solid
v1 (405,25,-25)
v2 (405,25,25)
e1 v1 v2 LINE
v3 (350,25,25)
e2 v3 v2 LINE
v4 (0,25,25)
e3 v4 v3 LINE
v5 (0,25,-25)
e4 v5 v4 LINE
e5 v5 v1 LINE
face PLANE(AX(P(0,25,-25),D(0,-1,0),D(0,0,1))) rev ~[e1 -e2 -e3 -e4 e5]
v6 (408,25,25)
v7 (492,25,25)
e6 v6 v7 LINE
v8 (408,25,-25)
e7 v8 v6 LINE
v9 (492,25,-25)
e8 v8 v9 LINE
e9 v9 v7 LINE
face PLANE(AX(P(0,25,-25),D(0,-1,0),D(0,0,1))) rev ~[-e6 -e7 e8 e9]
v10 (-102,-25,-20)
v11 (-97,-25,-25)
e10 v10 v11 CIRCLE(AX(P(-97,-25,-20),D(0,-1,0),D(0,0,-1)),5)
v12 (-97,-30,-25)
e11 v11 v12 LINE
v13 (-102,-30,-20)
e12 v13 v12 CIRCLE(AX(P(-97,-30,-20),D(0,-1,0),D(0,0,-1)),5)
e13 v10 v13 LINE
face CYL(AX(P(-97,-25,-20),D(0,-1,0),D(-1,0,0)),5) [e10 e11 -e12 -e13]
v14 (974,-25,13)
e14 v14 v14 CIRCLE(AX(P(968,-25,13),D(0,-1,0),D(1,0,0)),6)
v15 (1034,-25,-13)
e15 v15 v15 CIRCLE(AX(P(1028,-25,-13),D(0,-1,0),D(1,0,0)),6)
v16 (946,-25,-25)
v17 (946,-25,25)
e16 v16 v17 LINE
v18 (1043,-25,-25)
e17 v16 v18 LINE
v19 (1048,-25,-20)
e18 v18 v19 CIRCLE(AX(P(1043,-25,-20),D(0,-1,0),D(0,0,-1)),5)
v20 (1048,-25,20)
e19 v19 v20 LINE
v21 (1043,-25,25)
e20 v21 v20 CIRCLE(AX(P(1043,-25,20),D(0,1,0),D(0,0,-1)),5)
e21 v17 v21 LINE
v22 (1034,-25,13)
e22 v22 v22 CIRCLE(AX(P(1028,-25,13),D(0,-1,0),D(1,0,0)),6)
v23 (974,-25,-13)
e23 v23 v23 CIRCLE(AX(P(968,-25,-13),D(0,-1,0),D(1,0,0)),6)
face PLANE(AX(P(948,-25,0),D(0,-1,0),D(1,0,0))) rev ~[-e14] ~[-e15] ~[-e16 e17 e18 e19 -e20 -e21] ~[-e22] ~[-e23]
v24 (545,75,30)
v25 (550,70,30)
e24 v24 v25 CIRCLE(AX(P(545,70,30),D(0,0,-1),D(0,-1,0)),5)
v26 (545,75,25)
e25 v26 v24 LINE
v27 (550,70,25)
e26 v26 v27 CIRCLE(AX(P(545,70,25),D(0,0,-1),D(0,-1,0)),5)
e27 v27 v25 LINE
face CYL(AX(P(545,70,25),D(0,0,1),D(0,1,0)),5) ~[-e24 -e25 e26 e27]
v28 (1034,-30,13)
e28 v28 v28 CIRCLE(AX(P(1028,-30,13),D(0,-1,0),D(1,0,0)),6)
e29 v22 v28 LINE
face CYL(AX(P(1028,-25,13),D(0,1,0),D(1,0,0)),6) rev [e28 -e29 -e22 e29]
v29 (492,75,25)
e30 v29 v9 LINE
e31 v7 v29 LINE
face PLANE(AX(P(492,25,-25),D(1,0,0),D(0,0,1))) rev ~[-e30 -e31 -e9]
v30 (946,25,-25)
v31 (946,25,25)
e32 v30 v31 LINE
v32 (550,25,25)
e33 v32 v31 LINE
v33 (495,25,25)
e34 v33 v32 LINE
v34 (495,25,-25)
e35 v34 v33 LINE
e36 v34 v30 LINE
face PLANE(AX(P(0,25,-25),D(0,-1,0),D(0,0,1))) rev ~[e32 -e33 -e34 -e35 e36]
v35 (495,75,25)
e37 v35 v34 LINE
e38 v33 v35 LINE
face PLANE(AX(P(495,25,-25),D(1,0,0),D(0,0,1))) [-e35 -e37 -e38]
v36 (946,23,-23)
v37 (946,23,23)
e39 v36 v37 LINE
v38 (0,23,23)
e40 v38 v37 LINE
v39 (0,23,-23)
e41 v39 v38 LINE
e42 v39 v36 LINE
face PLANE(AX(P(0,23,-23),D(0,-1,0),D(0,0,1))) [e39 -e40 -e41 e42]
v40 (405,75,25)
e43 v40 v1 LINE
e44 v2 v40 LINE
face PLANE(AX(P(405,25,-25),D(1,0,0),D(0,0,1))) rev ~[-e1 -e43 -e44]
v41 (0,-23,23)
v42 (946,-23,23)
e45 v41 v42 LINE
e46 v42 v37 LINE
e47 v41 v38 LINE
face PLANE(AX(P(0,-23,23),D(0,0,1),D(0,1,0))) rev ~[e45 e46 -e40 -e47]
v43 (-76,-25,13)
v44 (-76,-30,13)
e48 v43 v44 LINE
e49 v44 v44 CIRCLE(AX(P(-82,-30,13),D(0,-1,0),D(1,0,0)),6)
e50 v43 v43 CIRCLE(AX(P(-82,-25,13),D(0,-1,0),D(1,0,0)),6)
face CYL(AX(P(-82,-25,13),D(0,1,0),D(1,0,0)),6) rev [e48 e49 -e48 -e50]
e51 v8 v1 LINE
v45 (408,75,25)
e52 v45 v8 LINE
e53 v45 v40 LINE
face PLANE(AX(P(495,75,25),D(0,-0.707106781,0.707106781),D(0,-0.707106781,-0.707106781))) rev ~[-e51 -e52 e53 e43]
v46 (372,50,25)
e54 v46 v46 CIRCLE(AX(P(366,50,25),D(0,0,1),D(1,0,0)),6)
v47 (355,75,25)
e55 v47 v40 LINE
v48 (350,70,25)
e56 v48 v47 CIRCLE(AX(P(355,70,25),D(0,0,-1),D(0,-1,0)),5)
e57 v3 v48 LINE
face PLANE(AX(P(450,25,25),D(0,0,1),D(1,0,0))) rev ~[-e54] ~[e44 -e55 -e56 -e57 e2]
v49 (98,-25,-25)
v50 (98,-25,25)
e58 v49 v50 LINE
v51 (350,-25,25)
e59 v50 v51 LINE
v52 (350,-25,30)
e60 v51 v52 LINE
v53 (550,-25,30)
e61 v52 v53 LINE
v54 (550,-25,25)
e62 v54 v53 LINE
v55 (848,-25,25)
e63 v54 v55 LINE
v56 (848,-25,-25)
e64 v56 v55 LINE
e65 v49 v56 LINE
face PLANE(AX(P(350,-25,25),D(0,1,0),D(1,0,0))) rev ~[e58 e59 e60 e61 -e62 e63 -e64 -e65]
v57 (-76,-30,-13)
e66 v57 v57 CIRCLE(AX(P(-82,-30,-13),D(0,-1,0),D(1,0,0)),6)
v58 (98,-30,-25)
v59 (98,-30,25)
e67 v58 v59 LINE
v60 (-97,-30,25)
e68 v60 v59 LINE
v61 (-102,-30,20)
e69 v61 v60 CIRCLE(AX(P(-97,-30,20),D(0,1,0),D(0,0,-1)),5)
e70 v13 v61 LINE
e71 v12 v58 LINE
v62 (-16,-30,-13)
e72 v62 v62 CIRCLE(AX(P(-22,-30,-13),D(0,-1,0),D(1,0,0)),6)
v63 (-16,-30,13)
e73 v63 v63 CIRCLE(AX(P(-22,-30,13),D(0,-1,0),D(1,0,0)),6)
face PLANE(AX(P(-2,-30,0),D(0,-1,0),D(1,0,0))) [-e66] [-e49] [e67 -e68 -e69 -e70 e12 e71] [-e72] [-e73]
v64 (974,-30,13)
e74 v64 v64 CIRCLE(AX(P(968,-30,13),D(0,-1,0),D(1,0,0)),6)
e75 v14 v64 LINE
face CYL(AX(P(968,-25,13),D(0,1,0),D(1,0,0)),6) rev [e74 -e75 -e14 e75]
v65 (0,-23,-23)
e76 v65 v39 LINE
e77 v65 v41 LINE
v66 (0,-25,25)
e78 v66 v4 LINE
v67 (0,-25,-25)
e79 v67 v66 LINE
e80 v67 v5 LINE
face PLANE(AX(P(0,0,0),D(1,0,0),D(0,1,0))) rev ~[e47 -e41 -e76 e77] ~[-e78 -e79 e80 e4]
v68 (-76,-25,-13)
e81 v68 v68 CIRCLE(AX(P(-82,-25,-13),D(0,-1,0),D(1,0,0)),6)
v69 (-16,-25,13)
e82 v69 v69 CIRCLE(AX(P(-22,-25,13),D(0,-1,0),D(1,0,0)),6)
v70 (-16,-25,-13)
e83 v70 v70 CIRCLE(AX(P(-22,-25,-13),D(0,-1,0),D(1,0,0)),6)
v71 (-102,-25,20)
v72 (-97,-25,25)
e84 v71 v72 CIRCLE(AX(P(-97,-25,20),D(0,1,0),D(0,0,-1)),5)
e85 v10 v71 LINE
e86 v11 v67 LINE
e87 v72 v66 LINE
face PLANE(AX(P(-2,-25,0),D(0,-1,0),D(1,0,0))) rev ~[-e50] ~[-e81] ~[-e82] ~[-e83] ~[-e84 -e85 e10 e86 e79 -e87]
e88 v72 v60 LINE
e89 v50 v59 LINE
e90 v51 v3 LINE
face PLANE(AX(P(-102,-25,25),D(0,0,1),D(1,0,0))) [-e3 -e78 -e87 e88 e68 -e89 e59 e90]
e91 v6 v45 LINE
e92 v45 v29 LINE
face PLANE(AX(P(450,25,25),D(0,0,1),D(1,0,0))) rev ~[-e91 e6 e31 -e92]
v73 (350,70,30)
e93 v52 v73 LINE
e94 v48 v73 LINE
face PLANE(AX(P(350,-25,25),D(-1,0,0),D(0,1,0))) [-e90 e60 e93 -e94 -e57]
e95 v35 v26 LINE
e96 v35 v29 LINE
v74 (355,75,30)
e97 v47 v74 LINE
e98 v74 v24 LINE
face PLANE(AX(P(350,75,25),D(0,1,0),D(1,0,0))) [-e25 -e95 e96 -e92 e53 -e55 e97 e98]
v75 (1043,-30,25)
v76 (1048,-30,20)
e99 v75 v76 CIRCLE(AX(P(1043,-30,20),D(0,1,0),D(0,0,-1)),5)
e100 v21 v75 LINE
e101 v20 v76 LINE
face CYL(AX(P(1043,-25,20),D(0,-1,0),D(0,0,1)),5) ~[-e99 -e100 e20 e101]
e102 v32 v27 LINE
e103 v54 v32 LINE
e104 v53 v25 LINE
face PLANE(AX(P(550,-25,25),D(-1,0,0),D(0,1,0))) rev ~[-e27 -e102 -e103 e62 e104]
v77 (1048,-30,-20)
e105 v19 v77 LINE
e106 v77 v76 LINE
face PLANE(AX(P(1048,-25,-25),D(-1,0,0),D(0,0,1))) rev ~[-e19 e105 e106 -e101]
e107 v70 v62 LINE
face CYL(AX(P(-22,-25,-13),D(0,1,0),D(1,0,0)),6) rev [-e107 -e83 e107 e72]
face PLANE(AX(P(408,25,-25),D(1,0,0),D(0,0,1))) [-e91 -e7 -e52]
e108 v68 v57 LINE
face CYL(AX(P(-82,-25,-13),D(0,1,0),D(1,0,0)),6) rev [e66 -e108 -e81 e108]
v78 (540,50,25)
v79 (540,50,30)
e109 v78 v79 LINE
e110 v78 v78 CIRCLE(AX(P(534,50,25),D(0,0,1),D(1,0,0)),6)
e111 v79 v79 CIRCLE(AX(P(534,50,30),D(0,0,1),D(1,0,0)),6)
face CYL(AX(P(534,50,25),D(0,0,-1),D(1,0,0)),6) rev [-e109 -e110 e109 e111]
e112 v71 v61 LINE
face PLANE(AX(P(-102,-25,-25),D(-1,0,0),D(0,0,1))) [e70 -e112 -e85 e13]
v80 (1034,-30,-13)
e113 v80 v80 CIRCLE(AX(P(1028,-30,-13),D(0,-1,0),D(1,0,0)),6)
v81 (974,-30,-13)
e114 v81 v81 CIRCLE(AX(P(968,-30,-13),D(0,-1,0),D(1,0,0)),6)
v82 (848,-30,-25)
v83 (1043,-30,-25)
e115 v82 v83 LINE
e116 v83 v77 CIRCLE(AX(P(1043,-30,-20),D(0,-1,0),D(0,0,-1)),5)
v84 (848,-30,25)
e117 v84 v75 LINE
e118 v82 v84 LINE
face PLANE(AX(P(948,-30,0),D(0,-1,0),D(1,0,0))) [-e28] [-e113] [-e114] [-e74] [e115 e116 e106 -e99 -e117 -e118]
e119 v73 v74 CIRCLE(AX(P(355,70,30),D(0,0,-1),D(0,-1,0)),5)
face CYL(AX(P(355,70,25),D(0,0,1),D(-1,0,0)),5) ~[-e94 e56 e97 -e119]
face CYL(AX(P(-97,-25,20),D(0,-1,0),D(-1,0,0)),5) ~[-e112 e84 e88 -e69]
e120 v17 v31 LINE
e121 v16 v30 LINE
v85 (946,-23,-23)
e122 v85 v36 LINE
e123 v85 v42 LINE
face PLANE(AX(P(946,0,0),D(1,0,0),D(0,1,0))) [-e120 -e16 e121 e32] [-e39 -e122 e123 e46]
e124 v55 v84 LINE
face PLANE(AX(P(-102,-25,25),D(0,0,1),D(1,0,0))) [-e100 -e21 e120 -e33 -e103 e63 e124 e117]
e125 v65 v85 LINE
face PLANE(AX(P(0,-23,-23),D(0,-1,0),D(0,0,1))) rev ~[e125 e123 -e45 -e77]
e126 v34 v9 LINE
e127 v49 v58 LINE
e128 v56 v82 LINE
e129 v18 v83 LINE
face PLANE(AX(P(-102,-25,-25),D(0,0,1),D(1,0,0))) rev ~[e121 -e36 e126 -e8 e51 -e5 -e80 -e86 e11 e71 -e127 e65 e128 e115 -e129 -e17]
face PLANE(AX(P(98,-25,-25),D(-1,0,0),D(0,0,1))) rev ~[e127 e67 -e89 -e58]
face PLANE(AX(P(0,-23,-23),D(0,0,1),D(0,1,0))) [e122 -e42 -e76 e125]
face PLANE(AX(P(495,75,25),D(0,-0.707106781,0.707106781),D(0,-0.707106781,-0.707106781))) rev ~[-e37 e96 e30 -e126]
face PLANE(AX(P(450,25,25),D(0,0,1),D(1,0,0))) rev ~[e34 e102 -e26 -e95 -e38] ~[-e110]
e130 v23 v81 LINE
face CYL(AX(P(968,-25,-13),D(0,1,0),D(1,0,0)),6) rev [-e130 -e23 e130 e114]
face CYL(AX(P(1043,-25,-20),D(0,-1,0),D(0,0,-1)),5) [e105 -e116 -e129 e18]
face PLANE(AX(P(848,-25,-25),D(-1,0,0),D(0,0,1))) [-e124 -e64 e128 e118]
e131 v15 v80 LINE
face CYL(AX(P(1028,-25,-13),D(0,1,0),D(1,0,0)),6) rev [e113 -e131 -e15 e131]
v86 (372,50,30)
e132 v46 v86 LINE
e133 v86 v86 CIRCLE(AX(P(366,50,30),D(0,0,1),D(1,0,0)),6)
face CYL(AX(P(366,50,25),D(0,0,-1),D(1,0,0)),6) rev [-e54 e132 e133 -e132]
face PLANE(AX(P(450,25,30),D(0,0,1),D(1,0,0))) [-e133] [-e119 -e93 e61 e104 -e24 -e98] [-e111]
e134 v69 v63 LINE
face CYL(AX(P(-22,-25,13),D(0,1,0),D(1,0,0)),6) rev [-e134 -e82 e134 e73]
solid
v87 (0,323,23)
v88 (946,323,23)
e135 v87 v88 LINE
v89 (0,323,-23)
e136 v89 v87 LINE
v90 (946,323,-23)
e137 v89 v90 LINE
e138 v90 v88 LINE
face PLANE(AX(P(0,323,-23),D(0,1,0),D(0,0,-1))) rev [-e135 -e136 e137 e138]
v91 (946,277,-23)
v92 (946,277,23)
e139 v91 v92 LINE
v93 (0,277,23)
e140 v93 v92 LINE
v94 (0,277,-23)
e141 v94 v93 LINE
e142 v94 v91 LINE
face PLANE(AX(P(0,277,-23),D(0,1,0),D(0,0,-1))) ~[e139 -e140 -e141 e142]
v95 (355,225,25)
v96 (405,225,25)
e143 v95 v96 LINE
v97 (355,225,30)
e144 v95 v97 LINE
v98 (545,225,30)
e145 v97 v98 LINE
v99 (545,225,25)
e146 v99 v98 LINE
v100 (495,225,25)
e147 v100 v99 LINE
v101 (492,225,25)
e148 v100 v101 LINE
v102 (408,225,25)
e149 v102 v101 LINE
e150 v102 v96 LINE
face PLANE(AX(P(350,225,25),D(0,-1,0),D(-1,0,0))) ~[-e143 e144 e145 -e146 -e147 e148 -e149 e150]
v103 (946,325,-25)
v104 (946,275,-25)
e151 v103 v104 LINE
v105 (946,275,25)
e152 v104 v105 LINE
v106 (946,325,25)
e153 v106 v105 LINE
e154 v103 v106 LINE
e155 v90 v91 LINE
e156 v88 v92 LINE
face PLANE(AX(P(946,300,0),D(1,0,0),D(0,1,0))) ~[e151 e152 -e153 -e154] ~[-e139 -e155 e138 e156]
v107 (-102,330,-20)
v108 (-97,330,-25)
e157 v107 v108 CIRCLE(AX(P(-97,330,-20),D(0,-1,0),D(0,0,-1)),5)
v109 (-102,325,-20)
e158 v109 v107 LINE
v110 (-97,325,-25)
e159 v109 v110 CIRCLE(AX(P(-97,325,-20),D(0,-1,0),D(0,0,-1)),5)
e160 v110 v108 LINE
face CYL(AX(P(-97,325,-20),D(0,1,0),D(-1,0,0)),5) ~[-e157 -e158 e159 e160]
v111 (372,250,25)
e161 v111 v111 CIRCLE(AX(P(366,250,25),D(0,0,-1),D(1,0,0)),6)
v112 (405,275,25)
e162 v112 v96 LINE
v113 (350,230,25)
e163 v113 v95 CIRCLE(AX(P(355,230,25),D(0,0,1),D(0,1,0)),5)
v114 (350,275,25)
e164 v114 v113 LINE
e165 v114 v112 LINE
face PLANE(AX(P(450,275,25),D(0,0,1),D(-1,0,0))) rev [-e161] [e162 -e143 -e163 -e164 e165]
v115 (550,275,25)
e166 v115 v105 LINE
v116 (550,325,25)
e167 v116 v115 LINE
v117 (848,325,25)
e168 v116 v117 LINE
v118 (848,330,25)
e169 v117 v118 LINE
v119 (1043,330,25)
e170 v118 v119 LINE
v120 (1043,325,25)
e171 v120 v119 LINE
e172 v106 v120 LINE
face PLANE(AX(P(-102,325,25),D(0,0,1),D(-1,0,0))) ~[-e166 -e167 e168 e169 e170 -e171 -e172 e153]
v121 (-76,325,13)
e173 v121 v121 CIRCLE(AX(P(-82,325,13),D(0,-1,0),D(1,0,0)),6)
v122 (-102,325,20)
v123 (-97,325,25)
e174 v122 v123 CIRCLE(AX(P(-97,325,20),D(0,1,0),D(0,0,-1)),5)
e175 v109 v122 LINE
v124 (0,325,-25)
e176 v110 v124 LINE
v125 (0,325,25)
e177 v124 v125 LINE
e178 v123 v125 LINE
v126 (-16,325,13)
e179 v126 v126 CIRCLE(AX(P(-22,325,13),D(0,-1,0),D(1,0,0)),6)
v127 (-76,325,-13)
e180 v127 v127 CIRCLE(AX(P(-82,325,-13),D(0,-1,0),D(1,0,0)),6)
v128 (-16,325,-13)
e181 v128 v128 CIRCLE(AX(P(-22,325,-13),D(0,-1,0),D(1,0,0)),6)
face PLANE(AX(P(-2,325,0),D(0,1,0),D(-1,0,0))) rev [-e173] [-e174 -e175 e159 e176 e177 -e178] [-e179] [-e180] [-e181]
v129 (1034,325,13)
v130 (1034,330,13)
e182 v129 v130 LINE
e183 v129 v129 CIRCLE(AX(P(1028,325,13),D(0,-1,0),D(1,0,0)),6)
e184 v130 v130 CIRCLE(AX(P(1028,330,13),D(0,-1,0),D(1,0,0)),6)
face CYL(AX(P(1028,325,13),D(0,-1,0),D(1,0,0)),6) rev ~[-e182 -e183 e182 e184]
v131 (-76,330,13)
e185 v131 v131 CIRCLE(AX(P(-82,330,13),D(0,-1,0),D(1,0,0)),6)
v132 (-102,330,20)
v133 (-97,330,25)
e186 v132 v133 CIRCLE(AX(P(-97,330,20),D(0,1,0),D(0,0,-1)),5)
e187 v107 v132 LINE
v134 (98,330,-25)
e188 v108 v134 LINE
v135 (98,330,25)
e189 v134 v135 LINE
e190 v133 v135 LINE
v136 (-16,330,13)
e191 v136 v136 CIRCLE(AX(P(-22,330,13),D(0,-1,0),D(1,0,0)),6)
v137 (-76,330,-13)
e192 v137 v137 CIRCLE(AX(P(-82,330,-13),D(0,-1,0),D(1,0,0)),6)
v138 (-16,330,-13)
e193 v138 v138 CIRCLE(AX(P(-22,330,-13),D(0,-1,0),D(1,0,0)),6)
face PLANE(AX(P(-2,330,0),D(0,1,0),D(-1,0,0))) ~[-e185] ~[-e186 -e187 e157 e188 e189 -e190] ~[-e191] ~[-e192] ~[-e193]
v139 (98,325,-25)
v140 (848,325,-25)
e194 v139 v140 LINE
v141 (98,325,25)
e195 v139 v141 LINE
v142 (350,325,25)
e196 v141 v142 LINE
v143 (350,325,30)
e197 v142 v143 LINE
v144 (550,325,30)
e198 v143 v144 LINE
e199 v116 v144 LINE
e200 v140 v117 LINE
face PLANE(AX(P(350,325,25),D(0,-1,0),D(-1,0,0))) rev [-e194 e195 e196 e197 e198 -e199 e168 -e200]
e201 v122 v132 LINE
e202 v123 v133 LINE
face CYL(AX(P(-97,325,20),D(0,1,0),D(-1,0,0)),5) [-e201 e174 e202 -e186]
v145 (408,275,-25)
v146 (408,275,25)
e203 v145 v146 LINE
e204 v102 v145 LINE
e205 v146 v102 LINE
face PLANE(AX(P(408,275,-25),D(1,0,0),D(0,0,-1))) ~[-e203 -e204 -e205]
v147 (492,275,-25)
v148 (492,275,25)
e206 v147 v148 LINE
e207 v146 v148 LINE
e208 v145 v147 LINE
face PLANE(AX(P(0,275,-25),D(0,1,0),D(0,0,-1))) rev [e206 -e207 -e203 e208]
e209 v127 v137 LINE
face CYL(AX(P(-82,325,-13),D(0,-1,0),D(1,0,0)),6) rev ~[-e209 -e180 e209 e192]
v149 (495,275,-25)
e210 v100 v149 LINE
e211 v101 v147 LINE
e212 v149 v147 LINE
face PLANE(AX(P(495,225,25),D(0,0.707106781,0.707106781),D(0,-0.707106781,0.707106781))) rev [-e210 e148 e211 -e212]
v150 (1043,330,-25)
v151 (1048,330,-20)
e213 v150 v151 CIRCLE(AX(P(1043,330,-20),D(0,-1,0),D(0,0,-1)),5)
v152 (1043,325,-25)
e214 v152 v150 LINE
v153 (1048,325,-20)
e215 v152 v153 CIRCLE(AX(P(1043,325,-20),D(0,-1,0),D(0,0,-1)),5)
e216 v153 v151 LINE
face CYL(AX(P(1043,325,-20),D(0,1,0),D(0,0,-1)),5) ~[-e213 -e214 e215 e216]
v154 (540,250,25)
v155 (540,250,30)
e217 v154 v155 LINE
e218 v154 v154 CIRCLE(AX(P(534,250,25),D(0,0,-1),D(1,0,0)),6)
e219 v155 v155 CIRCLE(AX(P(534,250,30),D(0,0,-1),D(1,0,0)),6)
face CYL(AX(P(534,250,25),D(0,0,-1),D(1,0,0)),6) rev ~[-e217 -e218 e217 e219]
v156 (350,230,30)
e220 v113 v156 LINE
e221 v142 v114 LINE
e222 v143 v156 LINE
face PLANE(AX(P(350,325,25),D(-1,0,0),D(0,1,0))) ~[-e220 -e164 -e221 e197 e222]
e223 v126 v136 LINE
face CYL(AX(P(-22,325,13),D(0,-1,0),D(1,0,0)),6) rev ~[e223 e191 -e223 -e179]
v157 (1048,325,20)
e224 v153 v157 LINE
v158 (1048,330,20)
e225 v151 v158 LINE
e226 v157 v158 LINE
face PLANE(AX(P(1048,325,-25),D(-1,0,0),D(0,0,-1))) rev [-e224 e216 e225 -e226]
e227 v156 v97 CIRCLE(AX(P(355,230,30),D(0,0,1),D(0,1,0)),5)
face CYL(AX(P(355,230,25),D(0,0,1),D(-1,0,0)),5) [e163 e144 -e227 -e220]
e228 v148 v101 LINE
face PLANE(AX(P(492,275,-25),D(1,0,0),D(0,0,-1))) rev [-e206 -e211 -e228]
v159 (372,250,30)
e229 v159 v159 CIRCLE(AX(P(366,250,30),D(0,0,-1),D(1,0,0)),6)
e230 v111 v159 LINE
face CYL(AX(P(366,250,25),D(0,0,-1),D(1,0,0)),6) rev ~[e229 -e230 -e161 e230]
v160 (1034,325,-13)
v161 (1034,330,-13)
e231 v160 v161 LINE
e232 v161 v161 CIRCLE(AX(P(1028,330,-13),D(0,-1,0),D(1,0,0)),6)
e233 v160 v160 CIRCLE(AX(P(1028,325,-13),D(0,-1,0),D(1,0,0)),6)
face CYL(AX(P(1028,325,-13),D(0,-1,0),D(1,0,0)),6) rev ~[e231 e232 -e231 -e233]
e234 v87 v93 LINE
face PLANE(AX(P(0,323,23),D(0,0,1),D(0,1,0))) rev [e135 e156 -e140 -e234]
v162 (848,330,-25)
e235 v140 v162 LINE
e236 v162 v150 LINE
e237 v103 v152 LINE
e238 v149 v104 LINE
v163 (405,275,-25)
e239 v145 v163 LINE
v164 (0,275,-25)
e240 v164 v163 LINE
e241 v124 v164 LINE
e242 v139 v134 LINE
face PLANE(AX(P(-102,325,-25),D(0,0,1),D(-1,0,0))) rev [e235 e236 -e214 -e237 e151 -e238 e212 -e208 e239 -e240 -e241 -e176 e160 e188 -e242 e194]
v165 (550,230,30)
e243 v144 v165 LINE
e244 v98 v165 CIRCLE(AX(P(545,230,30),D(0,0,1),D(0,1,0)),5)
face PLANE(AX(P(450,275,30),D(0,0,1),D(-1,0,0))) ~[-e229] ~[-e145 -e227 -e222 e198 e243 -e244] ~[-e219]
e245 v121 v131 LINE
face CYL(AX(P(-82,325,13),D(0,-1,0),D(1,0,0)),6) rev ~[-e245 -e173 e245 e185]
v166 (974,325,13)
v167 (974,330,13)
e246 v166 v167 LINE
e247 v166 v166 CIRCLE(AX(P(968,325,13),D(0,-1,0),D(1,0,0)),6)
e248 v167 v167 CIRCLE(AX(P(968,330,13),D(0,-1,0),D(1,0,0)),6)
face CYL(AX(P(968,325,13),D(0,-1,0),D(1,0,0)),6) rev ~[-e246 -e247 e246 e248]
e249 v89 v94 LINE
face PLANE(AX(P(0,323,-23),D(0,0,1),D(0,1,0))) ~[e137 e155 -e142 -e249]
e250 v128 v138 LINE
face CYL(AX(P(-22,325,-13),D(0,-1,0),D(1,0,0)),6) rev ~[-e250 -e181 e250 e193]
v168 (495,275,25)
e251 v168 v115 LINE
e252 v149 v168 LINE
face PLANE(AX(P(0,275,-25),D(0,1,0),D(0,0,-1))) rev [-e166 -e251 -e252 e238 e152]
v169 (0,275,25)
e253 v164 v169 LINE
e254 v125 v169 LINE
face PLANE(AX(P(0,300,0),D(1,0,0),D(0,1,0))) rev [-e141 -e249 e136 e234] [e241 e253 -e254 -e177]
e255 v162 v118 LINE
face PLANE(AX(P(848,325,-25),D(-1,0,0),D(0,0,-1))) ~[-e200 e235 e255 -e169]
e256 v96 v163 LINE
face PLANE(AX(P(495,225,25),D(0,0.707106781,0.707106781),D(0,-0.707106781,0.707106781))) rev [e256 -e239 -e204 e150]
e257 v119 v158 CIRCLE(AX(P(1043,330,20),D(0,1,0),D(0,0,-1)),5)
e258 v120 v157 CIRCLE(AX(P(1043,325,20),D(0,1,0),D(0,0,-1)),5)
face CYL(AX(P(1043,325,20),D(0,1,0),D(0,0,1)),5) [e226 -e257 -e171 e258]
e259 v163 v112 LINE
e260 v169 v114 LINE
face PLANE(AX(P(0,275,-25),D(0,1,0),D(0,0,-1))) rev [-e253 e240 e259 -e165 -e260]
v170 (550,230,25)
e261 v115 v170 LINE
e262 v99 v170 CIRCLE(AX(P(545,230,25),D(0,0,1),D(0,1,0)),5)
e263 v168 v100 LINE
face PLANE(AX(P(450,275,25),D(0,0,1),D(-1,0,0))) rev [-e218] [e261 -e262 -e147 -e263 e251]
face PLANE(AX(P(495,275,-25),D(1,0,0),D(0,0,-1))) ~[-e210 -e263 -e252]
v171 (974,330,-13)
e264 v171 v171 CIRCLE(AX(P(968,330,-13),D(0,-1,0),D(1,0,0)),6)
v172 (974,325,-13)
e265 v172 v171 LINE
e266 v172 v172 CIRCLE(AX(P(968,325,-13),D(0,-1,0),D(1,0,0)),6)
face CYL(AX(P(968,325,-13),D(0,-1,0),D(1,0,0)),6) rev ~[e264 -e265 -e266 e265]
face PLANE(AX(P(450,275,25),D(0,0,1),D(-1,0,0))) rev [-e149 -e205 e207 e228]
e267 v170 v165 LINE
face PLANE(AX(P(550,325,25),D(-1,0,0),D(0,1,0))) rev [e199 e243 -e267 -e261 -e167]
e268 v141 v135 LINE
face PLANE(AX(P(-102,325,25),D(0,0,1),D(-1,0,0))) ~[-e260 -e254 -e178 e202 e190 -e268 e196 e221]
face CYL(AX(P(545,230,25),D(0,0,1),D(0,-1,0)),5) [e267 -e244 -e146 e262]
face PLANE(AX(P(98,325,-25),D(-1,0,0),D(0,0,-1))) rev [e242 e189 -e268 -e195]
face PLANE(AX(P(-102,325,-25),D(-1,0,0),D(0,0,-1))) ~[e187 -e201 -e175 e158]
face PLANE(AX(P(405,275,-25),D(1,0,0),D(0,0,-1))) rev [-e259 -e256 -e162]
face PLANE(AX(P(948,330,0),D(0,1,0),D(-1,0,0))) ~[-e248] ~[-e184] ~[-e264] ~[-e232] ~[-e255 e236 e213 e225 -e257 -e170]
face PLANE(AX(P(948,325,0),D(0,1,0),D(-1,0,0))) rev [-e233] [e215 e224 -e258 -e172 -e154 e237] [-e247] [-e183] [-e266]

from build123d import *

# Parameters (mm, degrees)
F0_W      = 50
F0_H      = 50
F0_W_2    = 46
F0_H_2    = 46
F1_DEPTH  = 946
F2_W      = 200
F2_H      = 50
F2_R      = 6
F3_DEPTH  = 5
F4_R      = 5
F5_W      = 200
F5_H      = 100
F5_R      = 6
F6_DEPTH  = 5
F7_R      = 5
F8_W      = 3
F8_H      = 50
F9_DEPTH  = 50
F11_DEPTH = 90


with BuildPart() as f1:
    # F0 (on Right) → F1 (new body)
    with BuildSketch(Plane.YZ):
        Rectangle(F0_W, F0_H)
        Rectangle(F0_W_2, F0_H_2, mode=Mode.SUBTRACT)
    extrude(amount=F1_DEPTH)

    # F2 (on face) → F3 (join)
    with BuildSketch(Plane.XZ.offset(25)):
        with Locations((-2, 0)):
            Rectangle(F2_W, F2_H)
        with Locations((-82, -13)):
            Circle(F2_R, mode=Mode.SUBTRACT)
        with Locations((-22, -13)):
            Circle(F2_R, mode=Mode.SUBTRACT)
        with Locations((-82, 13)):
            Circle(F2_R, mode=Mode.SUBTRACT)
        with Locations((-22, 13)):
            Circle(F2_R, mode=Mode.SUBTRACT)
        with Locations((948, 0)):
            Rectangle(F2_W, F2_H)
        with Locations((968, -13)):
            Circle(F2_R, mode=Mode.SUBTRACT)
        with Locations((1028, -13)):
            Circle(F2_R, mode=Mode.SUBTRACT)
        with Locations((968, 13)):
            Circle(F2_R, mode=Mode.SUBTRACT)
        with Locations((1028, 13)):
            Circle(F2_R, mode=Mode.SUBTRACT)
    extrude(amount=F3_DEPTH)

    # F4
    f4_edges = [f1.edges().sort_by_distance(p)[0] for p in [
        (-102, -27.5, 25),
        (-102, -27.5, -25),
        (1048, -27.5, 25),
        (1048, -27.5, -25),
    ]]
    fillet(f4_edges, radius=F4_R)

    # F5 (on face) → F6 (join)
    with BuildSketch(Plane.XY.offset(25)):
        with Locations((450, 25)):
            Rectangle(F5_W, F5_H)
        with Locations((366, 50)):
            Circle(F5_R, mode=Mode.SUBTRACT)
        with Locations((534, 50)):
            Circle(F5_R, mode=Mode.SUBTRACT)
    extrude(amount=F6_DEPTH)

    # F7
    f7_edges = [f1.edges().sort_by_distance(p)[0] for p in [
        (350, 75, 27.5),
        (550, 75, 27.5),
    ]]
    fillet(f7_edges, radius=F7_R)

    # F8 (on face) → F9 (join)
    with BuildSketch(Plane(origin=(0, 25, 0), x_dir=(-1, 0, 0), z_dir=(0, 1, 0))):
        with Locations((-493.5, 0)):
            Rectangle(F8_W, F8_H)
        with Locations((-406.5, 0)):
            Rectangle(F8_W, F8_H)
    extrude(amount=F9_DEPTH)

    # F10 (on face) → F11 (cut)
    with BuildSketch(Plane.YZ.offset(495)):
        Polygon((25, -25), (75, -25), (75, 25), align=None)
    extrude(amount=-F11_DEPTH, mode=Mode.SUBTRACT)


with BuildPart() as f13_1:
    # F13: instance of F1
    add(f1.part.mirror(Plane.XZ.offset(-150)))


solid = Compound([f1.part, f13_1.part])
